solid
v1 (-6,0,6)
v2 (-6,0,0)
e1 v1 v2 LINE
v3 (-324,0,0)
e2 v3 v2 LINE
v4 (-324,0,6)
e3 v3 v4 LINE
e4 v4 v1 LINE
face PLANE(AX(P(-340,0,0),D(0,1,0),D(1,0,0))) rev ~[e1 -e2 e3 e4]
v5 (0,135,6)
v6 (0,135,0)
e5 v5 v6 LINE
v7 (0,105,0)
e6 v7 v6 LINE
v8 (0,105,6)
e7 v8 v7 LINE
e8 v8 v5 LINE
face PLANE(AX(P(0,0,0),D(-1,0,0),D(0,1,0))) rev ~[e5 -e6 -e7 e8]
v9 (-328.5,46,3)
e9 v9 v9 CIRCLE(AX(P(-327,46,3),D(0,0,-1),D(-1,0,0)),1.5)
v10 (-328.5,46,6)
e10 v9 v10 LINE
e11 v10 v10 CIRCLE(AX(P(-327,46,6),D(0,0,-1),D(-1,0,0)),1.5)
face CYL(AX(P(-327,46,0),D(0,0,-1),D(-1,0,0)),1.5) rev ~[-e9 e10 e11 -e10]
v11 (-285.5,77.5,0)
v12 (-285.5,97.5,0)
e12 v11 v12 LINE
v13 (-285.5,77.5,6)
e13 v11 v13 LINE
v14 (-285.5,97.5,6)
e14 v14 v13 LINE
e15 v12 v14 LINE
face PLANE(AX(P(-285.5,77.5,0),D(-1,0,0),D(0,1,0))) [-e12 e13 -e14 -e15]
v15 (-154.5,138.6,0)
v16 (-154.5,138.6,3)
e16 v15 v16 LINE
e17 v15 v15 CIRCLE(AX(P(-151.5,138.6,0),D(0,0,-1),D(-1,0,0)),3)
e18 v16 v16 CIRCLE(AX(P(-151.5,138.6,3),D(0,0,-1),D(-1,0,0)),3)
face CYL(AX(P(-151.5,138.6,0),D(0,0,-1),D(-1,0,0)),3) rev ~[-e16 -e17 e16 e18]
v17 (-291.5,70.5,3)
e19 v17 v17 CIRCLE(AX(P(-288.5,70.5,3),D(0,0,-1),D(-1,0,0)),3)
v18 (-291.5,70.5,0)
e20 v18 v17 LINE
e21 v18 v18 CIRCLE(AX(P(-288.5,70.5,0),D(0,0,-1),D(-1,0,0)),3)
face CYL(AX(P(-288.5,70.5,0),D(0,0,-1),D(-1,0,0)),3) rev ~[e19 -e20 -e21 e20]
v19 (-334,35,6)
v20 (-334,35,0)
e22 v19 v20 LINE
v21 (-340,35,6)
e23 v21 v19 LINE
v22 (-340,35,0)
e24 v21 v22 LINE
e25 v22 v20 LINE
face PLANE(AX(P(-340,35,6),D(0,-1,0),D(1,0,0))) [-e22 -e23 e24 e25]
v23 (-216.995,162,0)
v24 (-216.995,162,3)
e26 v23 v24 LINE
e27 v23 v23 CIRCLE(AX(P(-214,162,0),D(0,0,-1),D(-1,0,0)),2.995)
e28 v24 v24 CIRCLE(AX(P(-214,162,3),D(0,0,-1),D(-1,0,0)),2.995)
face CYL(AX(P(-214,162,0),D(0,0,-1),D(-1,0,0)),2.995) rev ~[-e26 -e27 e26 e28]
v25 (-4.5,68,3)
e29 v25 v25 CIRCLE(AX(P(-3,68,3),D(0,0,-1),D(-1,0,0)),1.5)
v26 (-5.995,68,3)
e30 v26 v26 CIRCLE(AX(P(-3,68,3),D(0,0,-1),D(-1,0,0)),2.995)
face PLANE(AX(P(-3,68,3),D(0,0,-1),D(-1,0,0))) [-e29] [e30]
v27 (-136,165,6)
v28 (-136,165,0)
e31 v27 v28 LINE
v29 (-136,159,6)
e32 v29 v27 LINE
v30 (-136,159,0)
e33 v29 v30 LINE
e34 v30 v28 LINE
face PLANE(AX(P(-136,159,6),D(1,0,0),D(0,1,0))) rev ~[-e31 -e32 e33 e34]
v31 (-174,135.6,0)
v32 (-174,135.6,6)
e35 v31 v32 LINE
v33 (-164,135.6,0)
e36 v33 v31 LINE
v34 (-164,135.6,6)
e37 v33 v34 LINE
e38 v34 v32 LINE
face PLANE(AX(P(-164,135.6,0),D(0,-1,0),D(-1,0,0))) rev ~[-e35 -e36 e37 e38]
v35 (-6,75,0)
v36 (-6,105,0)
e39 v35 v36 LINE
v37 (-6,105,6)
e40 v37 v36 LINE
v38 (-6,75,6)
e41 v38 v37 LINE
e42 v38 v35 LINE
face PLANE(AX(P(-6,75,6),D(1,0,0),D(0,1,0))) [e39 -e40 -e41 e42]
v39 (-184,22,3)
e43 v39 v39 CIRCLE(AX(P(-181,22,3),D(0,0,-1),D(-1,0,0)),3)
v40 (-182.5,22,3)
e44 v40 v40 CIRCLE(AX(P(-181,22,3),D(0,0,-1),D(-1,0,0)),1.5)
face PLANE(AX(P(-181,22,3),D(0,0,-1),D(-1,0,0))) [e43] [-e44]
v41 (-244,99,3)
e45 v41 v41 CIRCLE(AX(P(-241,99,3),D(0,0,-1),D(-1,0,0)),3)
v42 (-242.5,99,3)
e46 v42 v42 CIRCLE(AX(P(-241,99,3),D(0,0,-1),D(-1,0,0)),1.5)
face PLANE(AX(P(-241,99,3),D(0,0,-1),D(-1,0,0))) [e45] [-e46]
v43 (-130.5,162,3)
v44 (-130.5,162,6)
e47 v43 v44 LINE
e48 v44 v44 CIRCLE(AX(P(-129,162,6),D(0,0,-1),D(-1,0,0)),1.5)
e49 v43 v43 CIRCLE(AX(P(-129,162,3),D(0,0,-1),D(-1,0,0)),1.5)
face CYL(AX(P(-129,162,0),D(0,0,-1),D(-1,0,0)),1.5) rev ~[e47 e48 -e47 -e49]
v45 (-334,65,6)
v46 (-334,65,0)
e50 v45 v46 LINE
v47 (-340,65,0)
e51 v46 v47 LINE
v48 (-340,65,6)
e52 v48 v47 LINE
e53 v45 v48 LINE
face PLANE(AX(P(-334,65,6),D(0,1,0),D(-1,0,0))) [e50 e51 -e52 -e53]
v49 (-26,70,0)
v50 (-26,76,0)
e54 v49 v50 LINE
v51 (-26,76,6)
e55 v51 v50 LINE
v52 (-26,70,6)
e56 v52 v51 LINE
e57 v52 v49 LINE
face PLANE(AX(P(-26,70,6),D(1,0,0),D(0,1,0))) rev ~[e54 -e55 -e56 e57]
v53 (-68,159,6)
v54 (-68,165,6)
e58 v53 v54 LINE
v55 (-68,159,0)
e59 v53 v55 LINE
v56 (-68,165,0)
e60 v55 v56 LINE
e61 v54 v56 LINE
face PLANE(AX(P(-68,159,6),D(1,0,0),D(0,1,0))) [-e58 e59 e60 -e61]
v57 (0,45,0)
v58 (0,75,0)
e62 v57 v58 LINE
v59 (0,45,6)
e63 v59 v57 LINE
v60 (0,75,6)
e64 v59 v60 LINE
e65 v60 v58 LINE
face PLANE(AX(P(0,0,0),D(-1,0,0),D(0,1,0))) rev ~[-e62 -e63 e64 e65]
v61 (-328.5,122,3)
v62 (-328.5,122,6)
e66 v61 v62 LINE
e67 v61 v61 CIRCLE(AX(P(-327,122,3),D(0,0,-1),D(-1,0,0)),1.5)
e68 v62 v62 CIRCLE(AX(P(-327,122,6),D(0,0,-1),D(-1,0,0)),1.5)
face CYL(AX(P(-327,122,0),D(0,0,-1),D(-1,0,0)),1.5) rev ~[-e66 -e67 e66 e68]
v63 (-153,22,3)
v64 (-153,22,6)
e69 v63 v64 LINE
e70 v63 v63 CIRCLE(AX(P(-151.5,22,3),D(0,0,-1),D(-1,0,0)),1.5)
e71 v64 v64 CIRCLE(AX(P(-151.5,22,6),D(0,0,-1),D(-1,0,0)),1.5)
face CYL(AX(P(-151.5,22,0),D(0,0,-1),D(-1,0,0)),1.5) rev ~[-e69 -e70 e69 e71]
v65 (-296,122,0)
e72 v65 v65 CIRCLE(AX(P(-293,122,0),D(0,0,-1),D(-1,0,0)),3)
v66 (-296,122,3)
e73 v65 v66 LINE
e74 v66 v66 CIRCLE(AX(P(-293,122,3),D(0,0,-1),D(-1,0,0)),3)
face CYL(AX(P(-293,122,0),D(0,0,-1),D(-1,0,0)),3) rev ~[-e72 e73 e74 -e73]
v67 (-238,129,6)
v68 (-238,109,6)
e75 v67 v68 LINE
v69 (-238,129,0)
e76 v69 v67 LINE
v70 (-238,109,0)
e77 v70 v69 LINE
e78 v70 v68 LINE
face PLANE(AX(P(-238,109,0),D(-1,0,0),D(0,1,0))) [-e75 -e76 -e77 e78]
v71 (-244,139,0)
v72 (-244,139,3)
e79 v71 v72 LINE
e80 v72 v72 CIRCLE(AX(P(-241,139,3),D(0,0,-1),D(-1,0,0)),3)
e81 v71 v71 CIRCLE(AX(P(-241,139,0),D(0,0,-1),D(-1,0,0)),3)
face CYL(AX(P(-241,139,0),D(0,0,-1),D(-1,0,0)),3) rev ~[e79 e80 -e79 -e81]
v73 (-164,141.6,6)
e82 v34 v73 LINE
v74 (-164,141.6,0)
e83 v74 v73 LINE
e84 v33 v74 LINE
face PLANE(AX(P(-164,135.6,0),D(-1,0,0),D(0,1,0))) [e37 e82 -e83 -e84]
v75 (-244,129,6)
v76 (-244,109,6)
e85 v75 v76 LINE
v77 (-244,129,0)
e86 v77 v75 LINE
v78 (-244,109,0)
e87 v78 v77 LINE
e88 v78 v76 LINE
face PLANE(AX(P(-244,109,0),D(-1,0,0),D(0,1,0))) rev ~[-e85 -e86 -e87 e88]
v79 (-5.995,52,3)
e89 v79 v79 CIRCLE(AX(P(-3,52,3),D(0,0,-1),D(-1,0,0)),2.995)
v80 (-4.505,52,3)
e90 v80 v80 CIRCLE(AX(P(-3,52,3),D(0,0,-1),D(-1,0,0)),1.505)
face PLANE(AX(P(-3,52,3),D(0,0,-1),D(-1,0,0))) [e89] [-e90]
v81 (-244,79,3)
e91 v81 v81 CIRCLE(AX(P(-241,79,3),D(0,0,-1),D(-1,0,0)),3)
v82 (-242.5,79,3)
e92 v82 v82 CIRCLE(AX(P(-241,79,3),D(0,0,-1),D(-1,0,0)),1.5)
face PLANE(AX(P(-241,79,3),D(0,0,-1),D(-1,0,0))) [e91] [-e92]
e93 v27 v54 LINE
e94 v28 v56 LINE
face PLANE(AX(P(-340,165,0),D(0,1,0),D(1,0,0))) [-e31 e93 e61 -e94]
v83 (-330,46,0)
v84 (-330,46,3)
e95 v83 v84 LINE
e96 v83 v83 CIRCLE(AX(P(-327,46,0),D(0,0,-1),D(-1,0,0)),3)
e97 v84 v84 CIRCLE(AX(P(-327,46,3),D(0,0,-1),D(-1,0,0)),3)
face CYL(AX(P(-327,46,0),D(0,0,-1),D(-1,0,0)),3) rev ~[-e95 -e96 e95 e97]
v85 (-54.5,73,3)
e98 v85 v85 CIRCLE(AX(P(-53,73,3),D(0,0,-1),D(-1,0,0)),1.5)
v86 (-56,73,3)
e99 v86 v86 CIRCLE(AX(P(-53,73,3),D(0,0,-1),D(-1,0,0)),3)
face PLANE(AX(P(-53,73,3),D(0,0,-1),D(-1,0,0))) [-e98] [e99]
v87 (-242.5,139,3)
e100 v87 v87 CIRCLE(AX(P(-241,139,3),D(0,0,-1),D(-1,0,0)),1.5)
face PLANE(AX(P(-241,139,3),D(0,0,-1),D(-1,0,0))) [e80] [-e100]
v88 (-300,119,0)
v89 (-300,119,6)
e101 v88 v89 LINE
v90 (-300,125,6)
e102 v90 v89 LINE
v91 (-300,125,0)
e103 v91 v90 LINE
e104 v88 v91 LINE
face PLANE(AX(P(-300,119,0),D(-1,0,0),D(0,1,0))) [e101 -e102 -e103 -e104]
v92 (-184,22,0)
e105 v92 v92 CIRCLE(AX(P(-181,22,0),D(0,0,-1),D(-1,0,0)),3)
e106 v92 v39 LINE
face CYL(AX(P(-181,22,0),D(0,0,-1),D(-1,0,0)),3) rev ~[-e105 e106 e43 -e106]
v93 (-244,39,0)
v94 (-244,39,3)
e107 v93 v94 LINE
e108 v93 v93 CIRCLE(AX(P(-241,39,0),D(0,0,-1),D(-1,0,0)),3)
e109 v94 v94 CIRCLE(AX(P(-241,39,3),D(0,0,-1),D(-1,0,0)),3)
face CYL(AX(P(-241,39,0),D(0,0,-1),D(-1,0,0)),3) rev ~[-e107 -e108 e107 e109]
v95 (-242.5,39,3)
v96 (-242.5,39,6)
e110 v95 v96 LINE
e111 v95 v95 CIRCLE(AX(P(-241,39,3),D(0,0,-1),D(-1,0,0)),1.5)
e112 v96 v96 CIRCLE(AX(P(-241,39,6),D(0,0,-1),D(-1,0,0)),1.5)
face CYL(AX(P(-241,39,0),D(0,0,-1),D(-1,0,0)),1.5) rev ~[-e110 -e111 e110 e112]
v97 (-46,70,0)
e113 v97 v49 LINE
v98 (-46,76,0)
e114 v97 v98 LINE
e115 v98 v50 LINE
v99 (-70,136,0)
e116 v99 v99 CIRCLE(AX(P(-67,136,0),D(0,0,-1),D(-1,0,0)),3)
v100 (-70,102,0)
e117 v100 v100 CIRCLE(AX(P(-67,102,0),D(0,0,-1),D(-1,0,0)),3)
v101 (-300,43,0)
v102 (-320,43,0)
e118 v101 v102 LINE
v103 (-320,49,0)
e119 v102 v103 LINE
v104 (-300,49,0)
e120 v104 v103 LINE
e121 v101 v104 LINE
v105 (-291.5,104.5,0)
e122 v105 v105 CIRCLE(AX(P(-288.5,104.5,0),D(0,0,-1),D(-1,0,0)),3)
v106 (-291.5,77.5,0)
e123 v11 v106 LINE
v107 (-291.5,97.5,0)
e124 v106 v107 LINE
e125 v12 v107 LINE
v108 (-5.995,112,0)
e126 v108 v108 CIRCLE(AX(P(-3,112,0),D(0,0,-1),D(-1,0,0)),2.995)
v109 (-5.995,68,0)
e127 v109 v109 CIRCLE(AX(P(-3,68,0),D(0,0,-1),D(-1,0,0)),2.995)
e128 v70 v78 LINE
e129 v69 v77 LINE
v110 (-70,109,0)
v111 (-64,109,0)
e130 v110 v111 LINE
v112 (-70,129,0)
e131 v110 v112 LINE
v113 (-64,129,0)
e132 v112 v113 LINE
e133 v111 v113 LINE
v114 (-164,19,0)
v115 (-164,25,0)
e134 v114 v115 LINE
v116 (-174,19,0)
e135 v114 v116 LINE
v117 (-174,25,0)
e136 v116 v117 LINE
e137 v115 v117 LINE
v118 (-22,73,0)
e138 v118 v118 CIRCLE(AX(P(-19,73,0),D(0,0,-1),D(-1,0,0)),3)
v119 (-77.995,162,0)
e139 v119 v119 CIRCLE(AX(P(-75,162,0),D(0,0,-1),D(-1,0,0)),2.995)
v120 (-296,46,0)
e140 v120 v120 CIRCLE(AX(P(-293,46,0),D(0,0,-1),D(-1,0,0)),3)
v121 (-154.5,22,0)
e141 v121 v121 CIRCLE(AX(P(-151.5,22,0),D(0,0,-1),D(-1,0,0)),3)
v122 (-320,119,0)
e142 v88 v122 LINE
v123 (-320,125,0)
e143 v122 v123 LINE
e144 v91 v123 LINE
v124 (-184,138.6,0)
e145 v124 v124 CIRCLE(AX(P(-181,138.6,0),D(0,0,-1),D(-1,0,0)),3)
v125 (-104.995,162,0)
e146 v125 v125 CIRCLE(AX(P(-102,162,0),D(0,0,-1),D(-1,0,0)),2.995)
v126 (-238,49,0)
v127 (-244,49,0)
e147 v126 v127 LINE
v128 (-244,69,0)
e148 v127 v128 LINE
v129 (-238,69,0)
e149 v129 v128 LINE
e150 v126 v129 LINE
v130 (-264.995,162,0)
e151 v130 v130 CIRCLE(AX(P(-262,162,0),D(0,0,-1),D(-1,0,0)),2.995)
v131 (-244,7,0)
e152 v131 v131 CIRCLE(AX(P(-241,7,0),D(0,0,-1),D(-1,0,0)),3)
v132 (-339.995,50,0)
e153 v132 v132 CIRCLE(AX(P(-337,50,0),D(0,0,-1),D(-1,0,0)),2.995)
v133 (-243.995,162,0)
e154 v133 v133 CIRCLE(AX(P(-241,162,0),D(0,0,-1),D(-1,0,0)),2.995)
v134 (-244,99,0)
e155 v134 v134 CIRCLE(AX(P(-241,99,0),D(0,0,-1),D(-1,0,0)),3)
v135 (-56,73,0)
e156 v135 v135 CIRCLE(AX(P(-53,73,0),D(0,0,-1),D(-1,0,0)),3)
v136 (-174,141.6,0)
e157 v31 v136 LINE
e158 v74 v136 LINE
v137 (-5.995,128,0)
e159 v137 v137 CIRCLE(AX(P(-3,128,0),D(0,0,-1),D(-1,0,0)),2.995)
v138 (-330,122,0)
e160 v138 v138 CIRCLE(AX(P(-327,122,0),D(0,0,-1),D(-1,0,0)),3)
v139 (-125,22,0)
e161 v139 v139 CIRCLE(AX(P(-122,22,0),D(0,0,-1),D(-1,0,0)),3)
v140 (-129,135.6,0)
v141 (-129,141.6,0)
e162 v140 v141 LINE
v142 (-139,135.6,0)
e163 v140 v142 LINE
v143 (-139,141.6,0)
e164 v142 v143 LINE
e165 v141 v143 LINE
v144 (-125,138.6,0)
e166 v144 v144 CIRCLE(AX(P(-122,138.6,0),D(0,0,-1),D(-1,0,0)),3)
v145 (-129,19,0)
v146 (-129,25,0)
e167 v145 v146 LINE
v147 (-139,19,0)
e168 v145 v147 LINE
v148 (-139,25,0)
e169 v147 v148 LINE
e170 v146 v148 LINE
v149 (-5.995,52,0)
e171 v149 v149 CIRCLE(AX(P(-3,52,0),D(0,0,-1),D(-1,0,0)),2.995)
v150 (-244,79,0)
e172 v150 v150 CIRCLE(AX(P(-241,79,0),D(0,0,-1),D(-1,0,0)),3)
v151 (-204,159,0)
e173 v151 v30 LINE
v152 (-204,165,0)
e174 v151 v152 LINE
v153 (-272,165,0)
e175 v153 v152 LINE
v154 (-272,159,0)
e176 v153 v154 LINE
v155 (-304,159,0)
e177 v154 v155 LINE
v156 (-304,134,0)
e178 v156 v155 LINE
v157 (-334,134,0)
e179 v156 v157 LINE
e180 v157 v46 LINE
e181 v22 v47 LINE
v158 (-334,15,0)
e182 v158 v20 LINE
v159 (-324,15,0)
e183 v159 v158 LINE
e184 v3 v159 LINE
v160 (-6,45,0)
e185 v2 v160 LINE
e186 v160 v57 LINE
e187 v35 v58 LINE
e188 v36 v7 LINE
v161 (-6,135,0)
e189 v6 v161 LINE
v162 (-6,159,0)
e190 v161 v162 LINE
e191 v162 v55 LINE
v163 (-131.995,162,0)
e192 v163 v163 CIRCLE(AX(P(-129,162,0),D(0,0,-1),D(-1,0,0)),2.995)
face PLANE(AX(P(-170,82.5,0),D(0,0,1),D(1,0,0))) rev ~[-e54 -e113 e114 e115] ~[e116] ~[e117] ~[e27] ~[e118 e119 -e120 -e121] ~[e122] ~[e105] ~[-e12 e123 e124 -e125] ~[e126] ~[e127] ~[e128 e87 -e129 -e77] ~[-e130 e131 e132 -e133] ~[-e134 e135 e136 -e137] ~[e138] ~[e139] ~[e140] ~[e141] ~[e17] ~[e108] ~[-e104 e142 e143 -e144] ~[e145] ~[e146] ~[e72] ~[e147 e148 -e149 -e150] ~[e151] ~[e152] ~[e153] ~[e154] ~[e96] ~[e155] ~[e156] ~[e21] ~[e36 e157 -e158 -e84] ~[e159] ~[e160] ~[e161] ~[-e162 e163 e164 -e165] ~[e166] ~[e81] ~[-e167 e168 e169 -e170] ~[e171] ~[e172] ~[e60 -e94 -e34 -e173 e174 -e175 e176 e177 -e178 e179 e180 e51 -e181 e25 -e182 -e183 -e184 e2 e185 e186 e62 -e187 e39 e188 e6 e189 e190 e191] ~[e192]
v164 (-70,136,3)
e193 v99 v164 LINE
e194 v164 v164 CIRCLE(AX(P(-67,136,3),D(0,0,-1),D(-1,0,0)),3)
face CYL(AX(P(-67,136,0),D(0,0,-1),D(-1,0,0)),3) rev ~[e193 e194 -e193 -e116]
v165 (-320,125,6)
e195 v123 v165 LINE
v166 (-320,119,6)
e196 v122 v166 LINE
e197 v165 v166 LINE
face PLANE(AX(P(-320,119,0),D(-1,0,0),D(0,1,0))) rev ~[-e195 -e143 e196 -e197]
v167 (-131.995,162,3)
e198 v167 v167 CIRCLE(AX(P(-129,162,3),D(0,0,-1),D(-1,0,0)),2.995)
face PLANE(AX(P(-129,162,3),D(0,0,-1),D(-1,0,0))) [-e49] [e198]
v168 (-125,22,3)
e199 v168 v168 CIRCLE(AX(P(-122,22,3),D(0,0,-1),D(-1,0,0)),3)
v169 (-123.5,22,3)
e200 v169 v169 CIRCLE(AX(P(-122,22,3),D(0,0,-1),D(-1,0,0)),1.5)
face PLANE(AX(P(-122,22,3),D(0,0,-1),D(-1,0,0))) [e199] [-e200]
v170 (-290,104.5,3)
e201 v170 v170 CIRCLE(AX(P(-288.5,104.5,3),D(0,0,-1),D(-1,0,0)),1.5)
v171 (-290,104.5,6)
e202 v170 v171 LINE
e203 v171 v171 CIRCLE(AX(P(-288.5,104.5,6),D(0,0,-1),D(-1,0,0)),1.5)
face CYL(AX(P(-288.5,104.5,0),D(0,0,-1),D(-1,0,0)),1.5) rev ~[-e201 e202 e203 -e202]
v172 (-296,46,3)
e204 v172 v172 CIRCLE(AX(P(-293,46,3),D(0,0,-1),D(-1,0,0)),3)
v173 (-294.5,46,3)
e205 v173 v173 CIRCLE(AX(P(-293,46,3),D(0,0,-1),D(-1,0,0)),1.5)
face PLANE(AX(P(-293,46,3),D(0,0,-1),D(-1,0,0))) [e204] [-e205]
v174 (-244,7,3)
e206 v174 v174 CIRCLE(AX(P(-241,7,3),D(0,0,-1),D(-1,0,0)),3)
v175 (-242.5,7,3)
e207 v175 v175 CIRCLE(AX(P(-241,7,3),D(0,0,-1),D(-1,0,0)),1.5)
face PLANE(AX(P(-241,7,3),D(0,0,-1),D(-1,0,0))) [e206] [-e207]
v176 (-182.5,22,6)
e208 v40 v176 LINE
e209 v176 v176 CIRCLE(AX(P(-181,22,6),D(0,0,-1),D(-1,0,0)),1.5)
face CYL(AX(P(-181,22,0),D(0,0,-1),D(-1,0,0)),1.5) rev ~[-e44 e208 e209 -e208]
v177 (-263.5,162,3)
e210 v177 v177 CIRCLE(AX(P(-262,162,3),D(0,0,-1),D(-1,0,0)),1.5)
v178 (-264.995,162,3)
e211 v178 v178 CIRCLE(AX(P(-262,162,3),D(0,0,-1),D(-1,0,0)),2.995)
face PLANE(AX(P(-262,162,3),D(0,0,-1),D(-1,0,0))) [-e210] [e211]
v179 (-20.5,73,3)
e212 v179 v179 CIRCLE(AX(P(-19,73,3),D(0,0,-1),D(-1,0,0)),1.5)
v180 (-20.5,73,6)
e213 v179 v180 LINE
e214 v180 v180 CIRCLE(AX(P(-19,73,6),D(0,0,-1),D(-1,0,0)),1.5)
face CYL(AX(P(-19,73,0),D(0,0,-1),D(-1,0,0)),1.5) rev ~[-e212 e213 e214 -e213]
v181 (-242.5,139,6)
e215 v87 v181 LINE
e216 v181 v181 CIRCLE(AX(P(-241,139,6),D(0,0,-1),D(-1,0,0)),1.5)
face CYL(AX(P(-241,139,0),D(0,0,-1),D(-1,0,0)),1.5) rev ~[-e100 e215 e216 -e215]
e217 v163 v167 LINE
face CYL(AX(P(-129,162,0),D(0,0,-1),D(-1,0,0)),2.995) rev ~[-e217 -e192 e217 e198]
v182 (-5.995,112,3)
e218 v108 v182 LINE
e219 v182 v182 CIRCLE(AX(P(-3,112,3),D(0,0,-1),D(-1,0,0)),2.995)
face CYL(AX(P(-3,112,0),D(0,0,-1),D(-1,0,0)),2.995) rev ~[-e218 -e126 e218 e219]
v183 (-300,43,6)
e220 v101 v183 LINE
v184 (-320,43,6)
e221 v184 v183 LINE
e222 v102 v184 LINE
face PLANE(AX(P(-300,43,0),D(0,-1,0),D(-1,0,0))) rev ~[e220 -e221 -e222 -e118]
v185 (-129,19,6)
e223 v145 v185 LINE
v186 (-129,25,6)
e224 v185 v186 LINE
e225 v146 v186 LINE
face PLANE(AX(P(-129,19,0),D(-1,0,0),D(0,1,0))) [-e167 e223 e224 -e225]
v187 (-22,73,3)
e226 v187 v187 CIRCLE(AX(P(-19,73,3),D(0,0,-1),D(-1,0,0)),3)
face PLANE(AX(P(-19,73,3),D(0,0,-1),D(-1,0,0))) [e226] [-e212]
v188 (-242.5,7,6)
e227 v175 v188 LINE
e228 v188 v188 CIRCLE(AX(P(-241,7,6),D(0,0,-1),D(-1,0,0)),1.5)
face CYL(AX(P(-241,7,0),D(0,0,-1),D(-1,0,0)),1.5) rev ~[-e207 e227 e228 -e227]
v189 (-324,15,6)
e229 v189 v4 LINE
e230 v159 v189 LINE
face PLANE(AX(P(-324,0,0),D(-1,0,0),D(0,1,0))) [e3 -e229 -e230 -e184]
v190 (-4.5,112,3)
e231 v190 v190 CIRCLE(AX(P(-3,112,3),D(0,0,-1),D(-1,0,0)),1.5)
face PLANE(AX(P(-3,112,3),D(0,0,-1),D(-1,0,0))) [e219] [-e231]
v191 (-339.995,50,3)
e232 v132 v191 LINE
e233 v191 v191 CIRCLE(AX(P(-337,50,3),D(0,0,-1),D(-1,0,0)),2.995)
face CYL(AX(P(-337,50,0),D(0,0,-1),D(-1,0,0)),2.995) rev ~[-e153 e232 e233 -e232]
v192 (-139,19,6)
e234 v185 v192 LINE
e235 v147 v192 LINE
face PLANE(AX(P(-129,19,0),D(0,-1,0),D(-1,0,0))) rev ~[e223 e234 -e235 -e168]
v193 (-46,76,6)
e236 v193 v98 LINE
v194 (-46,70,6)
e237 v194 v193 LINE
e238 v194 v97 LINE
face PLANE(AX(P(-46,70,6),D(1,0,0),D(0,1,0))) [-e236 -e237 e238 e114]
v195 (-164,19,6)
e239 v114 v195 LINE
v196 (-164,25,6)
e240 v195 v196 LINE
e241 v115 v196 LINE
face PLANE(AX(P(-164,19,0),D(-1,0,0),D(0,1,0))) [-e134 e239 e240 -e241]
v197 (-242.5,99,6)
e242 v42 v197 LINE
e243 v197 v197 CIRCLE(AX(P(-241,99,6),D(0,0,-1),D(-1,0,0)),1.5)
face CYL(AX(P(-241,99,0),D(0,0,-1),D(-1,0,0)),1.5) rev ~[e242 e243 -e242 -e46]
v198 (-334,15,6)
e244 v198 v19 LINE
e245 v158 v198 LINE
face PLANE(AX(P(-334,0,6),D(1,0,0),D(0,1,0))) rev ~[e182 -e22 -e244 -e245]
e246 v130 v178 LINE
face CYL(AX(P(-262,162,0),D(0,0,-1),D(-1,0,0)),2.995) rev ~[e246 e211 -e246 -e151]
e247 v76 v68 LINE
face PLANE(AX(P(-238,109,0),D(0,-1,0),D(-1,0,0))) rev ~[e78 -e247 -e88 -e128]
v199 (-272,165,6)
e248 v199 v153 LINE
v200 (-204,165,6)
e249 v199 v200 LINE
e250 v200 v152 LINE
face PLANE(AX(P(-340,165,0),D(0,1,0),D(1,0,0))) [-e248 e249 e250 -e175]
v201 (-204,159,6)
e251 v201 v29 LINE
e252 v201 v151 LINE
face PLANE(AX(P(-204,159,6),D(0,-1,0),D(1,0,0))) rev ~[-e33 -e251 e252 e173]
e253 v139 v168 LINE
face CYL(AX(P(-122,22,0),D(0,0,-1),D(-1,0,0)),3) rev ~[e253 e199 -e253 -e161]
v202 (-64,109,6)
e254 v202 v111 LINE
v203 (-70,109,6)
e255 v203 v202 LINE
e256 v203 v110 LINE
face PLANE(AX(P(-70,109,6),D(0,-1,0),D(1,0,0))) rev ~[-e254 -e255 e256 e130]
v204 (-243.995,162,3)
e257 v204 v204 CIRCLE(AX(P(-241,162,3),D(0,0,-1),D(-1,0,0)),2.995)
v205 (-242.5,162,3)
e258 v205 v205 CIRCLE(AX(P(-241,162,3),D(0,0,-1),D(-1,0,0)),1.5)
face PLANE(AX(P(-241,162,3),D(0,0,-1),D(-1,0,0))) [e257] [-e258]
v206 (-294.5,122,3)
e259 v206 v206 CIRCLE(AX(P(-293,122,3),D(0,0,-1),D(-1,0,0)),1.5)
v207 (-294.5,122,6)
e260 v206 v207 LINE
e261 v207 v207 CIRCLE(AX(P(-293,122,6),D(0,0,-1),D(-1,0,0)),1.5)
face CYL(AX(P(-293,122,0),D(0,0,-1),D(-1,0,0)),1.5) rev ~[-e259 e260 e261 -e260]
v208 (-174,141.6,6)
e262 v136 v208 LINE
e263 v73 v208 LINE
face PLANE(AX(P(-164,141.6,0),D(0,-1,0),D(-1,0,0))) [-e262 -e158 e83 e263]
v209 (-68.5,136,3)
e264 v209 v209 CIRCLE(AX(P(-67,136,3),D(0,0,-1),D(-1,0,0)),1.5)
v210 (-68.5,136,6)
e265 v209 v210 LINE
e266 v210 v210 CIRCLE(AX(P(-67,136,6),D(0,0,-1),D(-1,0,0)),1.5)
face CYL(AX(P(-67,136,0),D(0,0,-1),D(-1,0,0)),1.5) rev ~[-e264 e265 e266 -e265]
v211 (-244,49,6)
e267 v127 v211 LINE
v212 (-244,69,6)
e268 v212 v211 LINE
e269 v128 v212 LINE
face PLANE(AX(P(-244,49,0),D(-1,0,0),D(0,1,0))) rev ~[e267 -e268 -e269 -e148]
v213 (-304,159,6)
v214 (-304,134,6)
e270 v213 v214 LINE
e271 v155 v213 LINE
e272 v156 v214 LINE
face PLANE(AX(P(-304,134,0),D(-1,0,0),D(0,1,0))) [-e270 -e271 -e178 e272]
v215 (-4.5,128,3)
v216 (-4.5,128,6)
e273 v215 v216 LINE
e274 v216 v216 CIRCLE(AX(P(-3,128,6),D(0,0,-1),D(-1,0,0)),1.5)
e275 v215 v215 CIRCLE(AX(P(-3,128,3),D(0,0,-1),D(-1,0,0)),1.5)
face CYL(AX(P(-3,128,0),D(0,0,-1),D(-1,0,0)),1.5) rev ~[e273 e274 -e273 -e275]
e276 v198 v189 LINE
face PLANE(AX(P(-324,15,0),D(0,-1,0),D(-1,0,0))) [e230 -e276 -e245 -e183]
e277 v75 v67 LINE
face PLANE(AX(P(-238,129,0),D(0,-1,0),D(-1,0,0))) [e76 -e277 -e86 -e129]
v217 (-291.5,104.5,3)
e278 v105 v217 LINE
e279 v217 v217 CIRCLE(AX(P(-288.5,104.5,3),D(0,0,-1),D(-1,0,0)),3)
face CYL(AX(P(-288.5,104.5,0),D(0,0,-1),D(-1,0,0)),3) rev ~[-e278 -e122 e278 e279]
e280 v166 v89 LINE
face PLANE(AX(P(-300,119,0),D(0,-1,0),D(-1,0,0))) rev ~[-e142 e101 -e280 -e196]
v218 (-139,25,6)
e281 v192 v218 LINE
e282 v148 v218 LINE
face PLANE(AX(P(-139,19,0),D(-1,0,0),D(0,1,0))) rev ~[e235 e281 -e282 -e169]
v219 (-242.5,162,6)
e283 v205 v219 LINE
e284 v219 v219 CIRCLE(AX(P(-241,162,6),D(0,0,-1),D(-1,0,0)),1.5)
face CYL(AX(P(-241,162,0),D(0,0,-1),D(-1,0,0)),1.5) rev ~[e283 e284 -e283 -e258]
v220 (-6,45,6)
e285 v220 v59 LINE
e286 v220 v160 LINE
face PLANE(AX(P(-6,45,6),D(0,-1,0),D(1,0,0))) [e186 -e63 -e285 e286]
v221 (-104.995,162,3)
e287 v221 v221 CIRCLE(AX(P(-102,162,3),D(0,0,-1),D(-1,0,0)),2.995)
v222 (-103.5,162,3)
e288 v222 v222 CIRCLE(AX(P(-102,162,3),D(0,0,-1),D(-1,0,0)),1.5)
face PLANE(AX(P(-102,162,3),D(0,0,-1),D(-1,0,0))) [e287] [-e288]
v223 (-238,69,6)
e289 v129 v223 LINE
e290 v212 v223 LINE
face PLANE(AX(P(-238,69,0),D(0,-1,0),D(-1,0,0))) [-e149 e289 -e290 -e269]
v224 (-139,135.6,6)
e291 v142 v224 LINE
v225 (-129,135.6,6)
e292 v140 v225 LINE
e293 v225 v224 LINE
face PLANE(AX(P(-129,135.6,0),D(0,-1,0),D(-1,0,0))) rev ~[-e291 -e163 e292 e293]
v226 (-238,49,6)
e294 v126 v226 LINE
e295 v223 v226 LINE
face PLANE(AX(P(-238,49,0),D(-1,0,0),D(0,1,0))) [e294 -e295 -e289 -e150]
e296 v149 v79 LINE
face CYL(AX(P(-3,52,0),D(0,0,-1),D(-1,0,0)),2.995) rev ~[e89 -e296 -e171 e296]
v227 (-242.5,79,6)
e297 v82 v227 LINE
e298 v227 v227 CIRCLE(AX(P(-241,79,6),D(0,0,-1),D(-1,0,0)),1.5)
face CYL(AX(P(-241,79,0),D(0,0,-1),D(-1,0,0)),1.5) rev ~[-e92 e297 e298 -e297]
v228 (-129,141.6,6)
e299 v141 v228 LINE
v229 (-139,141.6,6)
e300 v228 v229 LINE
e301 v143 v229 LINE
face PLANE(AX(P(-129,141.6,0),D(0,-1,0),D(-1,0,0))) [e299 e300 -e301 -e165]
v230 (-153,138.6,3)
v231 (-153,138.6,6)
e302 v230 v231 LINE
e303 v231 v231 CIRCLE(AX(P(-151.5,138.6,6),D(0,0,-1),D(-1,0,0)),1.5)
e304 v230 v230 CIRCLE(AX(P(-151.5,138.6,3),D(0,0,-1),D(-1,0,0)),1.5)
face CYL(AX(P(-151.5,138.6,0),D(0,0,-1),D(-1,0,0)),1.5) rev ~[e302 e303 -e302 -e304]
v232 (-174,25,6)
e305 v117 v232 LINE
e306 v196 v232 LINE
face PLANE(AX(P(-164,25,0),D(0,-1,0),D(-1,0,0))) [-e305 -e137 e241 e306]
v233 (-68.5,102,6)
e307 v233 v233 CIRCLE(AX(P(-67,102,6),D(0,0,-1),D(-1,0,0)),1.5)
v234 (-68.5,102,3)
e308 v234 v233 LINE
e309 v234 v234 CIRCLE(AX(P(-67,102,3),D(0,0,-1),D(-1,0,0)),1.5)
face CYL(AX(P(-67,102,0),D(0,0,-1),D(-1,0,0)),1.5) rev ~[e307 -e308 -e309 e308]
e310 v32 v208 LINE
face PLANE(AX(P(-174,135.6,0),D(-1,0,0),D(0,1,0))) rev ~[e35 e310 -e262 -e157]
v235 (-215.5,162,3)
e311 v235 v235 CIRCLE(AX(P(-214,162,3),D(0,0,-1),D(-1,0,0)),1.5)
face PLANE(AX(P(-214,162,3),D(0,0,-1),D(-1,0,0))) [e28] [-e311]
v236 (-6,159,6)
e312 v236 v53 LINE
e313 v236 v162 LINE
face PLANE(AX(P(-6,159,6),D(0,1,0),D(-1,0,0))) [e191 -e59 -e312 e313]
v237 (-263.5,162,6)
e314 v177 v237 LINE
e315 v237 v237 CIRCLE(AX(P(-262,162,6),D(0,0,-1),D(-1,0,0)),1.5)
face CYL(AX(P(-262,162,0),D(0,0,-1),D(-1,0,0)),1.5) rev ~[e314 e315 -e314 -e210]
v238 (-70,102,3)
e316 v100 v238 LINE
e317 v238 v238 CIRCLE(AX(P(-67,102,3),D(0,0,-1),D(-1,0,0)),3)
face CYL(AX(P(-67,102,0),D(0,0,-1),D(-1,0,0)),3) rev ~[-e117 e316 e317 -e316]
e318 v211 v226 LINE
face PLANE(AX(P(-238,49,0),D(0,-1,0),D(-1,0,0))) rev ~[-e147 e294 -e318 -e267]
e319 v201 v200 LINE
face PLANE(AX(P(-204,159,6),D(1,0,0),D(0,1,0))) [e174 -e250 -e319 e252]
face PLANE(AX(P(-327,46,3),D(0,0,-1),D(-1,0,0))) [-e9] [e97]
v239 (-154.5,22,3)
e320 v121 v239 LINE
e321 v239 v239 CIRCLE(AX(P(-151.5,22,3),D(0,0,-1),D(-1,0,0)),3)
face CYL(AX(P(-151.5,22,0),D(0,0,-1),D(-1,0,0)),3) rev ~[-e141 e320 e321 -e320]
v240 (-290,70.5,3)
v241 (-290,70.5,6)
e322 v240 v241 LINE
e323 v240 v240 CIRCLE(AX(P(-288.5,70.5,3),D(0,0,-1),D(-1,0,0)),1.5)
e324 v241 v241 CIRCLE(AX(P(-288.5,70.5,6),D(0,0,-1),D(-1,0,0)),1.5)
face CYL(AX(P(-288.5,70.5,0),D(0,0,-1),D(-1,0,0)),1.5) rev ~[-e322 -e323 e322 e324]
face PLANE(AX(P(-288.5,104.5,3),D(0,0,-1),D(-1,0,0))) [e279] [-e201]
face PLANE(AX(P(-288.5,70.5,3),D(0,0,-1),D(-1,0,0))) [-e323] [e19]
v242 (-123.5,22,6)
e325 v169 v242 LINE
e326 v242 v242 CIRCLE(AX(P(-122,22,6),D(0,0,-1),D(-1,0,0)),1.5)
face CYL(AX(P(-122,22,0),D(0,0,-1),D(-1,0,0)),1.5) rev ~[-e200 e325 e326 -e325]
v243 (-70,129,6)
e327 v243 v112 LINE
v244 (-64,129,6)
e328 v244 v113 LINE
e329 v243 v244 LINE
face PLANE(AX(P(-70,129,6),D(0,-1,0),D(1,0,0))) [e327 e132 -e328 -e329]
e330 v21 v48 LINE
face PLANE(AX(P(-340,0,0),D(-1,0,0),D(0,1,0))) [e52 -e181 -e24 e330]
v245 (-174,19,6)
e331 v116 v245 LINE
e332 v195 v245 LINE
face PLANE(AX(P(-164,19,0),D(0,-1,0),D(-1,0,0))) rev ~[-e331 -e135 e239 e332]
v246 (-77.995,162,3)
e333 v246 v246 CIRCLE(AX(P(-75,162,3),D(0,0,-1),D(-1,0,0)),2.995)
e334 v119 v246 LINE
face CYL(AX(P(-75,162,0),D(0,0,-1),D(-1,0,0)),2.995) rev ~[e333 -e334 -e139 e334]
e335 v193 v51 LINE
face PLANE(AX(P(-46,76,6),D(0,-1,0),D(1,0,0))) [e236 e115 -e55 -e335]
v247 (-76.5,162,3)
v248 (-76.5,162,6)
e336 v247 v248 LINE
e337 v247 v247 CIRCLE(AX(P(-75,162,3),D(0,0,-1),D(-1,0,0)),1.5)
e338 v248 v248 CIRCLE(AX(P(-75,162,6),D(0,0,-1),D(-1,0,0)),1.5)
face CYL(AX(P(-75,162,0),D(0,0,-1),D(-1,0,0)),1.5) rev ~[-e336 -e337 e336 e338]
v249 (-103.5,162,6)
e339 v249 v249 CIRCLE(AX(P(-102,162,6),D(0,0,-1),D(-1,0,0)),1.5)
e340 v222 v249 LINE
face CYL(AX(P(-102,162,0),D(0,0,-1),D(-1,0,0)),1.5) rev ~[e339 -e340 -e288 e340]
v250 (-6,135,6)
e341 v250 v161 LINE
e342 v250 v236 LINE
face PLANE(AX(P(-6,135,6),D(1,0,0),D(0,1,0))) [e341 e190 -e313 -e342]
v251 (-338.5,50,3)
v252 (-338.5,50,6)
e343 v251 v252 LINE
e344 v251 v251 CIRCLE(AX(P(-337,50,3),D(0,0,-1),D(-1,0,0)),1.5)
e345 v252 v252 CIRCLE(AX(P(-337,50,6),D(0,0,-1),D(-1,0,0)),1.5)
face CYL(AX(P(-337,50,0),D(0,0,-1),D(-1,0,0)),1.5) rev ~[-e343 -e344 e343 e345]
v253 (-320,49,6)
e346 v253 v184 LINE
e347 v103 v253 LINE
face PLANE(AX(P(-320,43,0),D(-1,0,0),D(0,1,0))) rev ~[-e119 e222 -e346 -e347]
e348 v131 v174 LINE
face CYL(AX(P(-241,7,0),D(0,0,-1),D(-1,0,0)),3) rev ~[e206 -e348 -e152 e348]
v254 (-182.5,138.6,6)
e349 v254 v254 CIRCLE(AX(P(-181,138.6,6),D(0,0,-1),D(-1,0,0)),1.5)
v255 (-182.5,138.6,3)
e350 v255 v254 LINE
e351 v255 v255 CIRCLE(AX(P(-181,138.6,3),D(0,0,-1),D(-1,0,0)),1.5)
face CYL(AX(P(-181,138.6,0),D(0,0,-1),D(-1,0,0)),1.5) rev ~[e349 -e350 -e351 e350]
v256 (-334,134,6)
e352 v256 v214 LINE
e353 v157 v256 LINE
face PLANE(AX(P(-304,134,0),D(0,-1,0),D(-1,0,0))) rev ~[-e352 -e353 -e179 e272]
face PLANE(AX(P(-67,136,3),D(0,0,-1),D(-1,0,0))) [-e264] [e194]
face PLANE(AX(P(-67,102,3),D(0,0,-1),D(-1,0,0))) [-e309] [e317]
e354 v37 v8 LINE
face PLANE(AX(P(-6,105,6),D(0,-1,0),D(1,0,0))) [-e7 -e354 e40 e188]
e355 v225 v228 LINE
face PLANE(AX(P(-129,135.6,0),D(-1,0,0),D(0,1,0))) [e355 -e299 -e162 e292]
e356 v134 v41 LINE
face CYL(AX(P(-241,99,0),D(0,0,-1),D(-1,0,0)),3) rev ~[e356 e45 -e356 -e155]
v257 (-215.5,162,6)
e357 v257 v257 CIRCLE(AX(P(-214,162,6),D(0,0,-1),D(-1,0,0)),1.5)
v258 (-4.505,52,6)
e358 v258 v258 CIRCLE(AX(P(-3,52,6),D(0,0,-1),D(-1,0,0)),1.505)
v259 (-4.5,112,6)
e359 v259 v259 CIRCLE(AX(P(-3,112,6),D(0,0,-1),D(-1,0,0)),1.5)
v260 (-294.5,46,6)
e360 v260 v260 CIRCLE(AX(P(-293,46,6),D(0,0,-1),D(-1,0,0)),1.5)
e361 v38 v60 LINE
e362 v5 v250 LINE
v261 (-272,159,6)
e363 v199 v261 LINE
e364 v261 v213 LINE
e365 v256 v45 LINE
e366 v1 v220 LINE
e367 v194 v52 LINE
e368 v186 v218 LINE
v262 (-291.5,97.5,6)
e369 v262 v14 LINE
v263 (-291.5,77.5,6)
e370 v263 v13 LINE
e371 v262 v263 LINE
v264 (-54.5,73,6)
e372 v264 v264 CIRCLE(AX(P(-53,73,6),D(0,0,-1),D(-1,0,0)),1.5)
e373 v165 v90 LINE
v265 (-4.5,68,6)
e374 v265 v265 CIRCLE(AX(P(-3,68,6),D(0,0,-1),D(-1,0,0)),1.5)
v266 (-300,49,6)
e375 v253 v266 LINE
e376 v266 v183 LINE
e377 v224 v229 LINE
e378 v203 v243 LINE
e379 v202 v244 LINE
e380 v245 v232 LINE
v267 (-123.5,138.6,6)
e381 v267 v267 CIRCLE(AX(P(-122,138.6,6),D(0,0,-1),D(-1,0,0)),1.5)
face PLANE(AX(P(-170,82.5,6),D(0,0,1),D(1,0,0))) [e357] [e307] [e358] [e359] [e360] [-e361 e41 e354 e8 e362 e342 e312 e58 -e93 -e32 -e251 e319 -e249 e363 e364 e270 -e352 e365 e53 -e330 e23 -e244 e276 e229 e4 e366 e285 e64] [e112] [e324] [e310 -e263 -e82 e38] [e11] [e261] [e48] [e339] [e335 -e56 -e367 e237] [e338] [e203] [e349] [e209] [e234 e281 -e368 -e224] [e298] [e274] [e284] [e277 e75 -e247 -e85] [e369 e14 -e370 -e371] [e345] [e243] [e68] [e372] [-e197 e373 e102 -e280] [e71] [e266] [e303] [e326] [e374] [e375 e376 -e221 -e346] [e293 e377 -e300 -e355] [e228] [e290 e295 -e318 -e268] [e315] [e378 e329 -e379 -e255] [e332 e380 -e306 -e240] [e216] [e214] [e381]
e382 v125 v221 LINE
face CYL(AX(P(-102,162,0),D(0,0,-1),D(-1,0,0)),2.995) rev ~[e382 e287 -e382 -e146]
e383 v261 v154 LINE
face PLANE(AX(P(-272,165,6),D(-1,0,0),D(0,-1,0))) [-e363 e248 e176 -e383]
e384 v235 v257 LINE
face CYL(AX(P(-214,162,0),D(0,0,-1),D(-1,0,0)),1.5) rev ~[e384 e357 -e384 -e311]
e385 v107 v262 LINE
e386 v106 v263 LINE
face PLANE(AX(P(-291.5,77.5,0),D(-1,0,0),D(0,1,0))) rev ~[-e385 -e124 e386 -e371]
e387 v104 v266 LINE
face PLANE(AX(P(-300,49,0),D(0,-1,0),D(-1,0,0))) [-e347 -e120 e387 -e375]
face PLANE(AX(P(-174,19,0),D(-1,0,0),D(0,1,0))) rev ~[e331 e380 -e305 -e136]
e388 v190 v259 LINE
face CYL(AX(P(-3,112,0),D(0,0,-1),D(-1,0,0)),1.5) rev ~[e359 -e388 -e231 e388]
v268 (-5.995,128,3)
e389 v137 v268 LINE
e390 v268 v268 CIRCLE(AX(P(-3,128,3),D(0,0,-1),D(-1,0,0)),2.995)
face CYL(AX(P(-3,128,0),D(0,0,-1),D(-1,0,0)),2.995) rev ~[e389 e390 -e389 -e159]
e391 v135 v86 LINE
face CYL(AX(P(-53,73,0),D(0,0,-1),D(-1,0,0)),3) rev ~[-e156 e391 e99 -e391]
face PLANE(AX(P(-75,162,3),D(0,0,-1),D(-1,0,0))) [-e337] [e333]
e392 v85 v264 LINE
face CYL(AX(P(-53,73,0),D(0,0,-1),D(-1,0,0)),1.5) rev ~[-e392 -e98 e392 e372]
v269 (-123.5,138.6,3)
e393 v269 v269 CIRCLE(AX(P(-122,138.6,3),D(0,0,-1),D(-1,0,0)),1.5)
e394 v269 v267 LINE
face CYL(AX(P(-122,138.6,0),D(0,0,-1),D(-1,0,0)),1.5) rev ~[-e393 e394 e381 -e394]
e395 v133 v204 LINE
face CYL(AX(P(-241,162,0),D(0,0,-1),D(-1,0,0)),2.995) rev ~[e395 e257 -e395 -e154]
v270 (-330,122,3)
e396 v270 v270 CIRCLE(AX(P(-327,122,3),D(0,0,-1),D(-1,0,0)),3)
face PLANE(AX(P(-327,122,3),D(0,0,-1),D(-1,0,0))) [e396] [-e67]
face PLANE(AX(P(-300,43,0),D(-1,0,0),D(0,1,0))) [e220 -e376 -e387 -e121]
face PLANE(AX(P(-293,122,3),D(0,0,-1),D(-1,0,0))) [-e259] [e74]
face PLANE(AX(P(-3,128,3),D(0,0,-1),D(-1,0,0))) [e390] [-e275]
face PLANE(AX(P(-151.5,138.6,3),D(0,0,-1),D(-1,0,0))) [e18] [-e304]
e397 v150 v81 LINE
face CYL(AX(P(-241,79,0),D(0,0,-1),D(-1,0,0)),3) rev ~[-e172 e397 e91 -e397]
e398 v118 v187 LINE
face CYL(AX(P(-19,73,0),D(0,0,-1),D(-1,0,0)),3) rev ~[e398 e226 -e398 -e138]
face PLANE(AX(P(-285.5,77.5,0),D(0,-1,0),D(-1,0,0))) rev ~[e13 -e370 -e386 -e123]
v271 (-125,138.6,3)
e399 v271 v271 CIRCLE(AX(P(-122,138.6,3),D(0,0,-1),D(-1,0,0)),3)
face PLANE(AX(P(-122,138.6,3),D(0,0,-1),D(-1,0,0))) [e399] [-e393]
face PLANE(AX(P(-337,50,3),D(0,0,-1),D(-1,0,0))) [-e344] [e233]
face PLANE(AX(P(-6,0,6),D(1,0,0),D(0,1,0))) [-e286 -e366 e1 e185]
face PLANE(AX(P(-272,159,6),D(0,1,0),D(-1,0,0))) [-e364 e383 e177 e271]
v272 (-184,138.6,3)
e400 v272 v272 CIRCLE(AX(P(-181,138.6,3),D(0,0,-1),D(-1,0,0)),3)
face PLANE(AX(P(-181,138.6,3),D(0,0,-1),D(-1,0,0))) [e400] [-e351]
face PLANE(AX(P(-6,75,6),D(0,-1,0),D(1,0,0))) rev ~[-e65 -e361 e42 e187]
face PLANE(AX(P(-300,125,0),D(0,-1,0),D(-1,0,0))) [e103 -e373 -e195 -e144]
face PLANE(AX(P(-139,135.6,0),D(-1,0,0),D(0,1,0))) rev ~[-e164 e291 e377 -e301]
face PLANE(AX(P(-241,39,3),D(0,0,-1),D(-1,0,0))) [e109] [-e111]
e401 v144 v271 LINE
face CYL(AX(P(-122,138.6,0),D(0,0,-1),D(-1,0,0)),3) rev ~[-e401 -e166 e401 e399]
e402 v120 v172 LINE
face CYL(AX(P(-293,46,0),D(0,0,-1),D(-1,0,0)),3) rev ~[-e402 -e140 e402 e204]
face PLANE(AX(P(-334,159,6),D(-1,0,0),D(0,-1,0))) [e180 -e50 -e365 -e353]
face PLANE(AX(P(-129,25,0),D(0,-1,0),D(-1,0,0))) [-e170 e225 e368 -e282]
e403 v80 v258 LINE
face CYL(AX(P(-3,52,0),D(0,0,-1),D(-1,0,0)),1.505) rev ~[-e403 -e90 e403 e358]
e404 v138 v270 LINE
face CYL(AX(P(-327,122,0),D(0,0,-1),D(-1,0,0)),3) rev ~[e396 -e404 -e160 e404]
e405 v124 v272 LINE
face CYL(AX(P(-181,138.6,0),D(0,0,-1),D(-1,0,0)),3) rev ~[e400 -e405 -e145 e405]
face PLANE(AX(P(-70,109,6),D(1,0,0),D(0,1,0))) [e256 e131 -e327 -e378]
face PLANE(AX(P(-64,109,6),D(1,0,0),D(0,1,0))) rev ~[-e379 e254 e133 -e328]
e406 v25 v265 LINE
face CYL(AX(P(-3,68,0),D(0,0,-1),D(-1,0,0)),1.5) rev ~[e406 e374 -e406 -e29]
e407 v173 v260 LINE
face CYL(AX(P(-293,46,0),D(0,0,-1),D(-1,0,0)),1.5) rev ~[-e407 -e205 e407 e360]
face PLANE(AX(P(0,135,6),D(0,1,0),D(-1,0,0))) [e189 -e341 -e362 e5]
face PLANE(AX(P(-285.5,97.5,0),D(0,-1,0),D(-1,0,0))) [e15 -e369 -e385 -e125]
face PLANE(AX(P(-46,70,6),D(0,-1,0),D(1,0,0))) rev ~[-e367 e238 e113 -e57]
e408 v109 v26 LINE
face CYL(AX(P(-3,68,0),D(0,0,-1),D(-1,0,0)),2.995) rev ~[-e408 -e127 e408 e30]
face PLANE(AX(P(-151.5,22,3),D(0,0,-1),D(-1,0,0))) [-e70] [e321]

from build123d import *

# Parameters (mm, degrees)
ESQUISSE1_W             = 340
ESQUISSE1_H             = 165
BOSS_EXTRU_1_DEPTH      = 6
ESQUISSE2_W             = 6
ESQUISSE2_H             = 20
ESQUISSE2_W_2           = 68
ESQUISSE2_H_2           = 6
ESQUISSE2_H_3           = 45
ESQUISSE2_H_4           = 35
ESQUISSE2_H_5           = 30
ESQUISSE2_W_3           = 20
ENL_V_MAT_EXTRU_1_DEPTH = 6
ESQUISSE3_W             = 6
ESQUISSE3_H             = 20
ESQUISSE3_W_2           = 20
ESQUISSE3_H_2           = 6
ESQUISSE3_W_3           = 30
ESQUISSE3_H_3           = 25
ENL_V_MAT_EXTRU_2_DEPTH = 10
ESQUISSE5_R             = 1.5
ESQUISSE5_W             = 10
ESQUISSE5_H             = 6
ENL_V_MAT_EXTRU_4_DEPTH = 6
ESQUISSE7_R             = 1.5
ESQUISSE7_R_2           = 1.505
ESQUISSE7_W             = 10
ESQUISSE7_H             = 15
ENL_V_MAT_EXTRU_7_DEPTH = 378.969575495
ESQUISSE8_R             = 2.995
ESQUISSE8_R_2           = 3
ENL_V_MAT_EXTRU_9_DEPTH = 3


with BuildPart() as part:
    # Esquisse1 → Boss.-Extru.1 (new body)
    with BuildSketch(Plane.XY):
        with Locations((-170, 82.5)):
            Rectangle(ESQUISSE1_W, ESQUISSE1_H)
    extrude(amount=BOSS_EXTRU_1_DEPTH)

    # Esquisse2 → Enlèv. mat.-Extru.1 (cut)
    with BuildSketch(Plane.XY.offset(6)):
        Polygon((0, 165), (0, 135), (-6, 135), (-6, 159), (-68, 159), (-68, 165), align=None)
        Polygon((-340, 165), (-272, 165), (-272, 159), (-334, 159), (-334, 65), (-340, 65), align=None)
        with Locations((-67, 119)):
            Rectangle(ESQUISSE2_W, ESQUISSE2_H)
        with Locations((-170, 162)):
            Rectangle(ESQUISSE2_W_2, ESQUISSE2_H_2)
        with Locations((-3, 22.5)):
            Rectangle(ESQUISSE2_W, ESQUISSE2_H_3)
        with Locations((-337, 17.5)):
            Rectangle(ESQUISSE2_W, ESQUISSE2_H_4)
        with Locations((-3, 90)):
            Rectangle(ESQUISSE2_W, ESQUISSE2_H_5)
        with Locations((-36, 73)):
            Rectangle(ESQUISSE2_W_3, ESQUISSE2_H_2)
    extrude(amount=-ENL_V_MAT_EXTRU_1_DEPTH, mode=Mode.SUBTRACT)

    # Esquisse3 → Enlèv. mat.-Extru.2 (cut)
    with BuildSketch(Plane(origin=(0, 0, 0), x_dir=(-1, 0, 0), z_dir=(0, 0, -1))):
        with Locations((241, 119)):
            Rectangle(ESQUISSE3_W, ESQUISSE3_H)
        with Locations((241, 59)):
            Rectangle(ESQUISSE3_W, ESQUISSE3_H)
        with Locations((288.5, 87.5)):
            Rectangle(ESQUISSE3_W, ESQUISSE3_H)
        with Locations((310, 46)):
            Rectangle(ESQUISSE3_W_2, ESQUISSE3_H_2)
        with Locations((310, 122)):
            Rectangle(ESQUISSE3_W_2, ESQUISSE3_H_2)
        with Locations((319, 146.5)):
            Rectangle(ESQUISSE3_W_3, ESQUISSE3_H_3)
    extrude(amount=-ENL_V_MAT_EXTRU_2_DEPTH, mode=Mode.SUBTRACT)

    # Esquisse5 → Enlèv. mat.-Extru.4 (cut)
    with BuildSketch(Plane(origin=(0, 0, 0), x_dir=(-1, 0, 0), z_dir=(0, 0, -1))):
        with Locations((151.5, 138.6)):
            Circle(ESQUISSE5_R)
        with Locations((151.5, 22)):
            Circle(ESQUISSE5_R)
        with Locations((134, 138.6)):
            Rectangle(ESQUISSE5_W, ESQUISSE5_H)
        with Locations((169, 138.6)):
            Rectangle(ESQUISSE5_W, ESQUISSE5_H)
        with Locations((134, 22)):
            Rectangle(ESQUISSE5_W, ESQUISSE5_H)
        with Locations((169, 22)):
            Rectangle(ESQUISSE5_W, ESQUISSE5_H)
    extrude(amount=-ENL_V_MAT_EXTRU_4_DEPTH, mode=Mode.SUBTRACT)

    # Esquisse7 → Enlèv. mat.-Extru.7 (cut, through all)
    with BuildSketch(Plane(origin=(0, 0, 0), x_dir=(-1, 0, 0), z_dir=(0, 0, -1))):
        with Locations((337, 50)):
            Circle(ESQUISSE7_R)
        with Locations((293, 122)):
            Circle(ESQUISSE7_R)
        with Locations((327, 122)):
            Circle(ESQUISSE7_R)
        with Locations((293, 46)):
            Circle(ESQUISSE7_R)
        with Locations((327, 46)):
            Circle(ESQUISSE7_R)
        with Locations((288.5, 70.5)):
            Circle(ESQUISSE7_R)
        with Locations((288.5, 104.5)):
            Circle(ESQUISSE7_R)
        with Locations((241, 39)):
            Circle(ESQUISSE7_R)
        with Locations((241, 79)):
            Circle(ESQUISSE7_R)
        with Locations((241, 99)):
            Circle(ESQUISSE7_R)
        with Locations((241, 139)):
            Circle(ESQUISSE7_R)
        with Locations((241, 7)):
            Circle(ESQUISSE7_R)
        with Locations((241, 162)):
            Circle(ESQUISSE7_R)
        with Locations((262, 162)):
            Circle(ESQUISSE7_R)
        with Locations((214, 162)):
            Circle(ESQUISSE7_R)
        with Locations((75, 162)):
            Circle(ESQUISSE7_R)
        with Locations((102, 162)):
            Circle(ESQUISSE7_R)
        with Locations((129, 162)):
            Circle(ESQUISSE7_R)
        with Locations((67, 102)):
            Circle(ESQUISSE7_R)
        with Locations((67, 136)):
            Circle(ESQUISSE7_R)
        with Locations((53, 73)):
            Circle(ESQUISSE7_R)
        with Locations((19, 73)):
            Circle(ESQUISSE7_R)
        with Locations((3, 52)):
            Circle(ESQUISSE7_R_2)
        with Locations((3, 68)):
            Circle(ESQUISSE7_R)
        with Locations((3, 112)):
            Circle(ESQUISSE7_R)
        with Locations((3, 128)):
            Circle(ESQUISSE7_R)
        with Locations((122, 138.6)):
            Circle(ESQUISSE7_R)
        with Locations((181, 138.6)):
            Circle(ESQUISSE7_R)
        with Locations((181, 22)):
            Circle(ESQUISSE7_R)
        with Locations((122, 22)):
            Circle(ESQUISSE7_R)
        with Locations((329, 7.5)):
            Rectangle(ESQUISSE7_W, ESQUISSE7_H)
    extrude(amount=-ENL_V_MAT_EXTRU_7_DEPTH, mode=Mode.SUBTRACT)

    # Esquisse8 → Enlèv. mat.-Extru.9 (cut)
    with BuildSketch(Plane(origin=(0, 0, 0), x_dir=(-1, 0, 0), z_dir=(0, 0, -1))):
        with Locations((3, 52)):
            Circle(ESQUISSE8_R)
        with Locations((3, 68)):
            Circle(ESQUISSE8_R)
        with Locations((19, 73)):
            Circle(ESQUISSE8_R_2)
        with Locations((3, 112)):
            Circle(ESQUISSE8_R)
        with Locations((3, 128)):
            Circle(ESQUISSE8_R)
        with Locations((53, 73)):
            Circle(ESQUISSE8_R_2)
        with Locations((67, 102)):
            Circle(ESQUISSE8_R_2)
        with Locations((67, 136)):
            Circle(ESQUISSE8_R_2)
        with Locations((75, 162)):
            Circle(ESQUISSE8_R)
        with Locations((102, 162)):
            Circle(ESQUISSE8_R)
        with Locations((129, 162)):
            Circle(ESQUISSE8_R)
        with Locations((122, 138.6)):
            Circle(ESQUISSE8_R_2)
        with Locations((151.5, 138.6)):
            Circle(ESQUISSE8_R_2)
        with Locations((181, 138.6)):
            Circle(ESQUISSE8_R_2)
        with Locations((181, 22)):
            Circle(ESQUISSE8_R_2)
        with Locations((151.5, 22)):
            Circle(ESQUISSE8_R_2)
        with Locations((122, 22)):
            Circle(ESQUISSE8_R_2)
        with Locations((214, 162)):
            Circle(ESQUISSE8_R)
        with Locations((241, 162)):
            Circle(ESQUISSE8_R)
        with Locations((262, 162)):
            Circle(ESQUISSE8_R)
        with Locations((241, 139)):
            Circle(ESQUISSE8_R_2)
        with Locations((241, 99)):
            Circle(ESQUISSE8_R_2)
        with Locations((241, 79)):
            Circle(ESQUISSE8_R_2)
        with Locations((241, 39)):
            Circle(ESQUISSE8_R_2)
        with Locations((241, 7)):
            Circle(ESQUISSE8_R_2)
        with Locations((337, 50)):
            Circle(ESQUISSE8_R)
        with Locations((327, 46)):
            Circle(ESQUISSE8_R_2)
        with Locations((293, 46)):
            Circle(ESQUISSE8_R_2)
        with Locations((288.5, 70.5)):
            Circle(ESQUISSE8_R_2)
        with Locations((288.5, 104.5)):
            Circle(ESQUISSE8_R_2)
        with Locations((293, 122)):
            Circle(ESQUISSE8_R_2)
        with Locations((327, 122)):
            Circle(ESQUISSE8_R_2)
    extrude(amount=-ENL_V_MAT_EXTRU_9_DEPTH, mode=Mode.SUBTRACT)


solid = part.part
